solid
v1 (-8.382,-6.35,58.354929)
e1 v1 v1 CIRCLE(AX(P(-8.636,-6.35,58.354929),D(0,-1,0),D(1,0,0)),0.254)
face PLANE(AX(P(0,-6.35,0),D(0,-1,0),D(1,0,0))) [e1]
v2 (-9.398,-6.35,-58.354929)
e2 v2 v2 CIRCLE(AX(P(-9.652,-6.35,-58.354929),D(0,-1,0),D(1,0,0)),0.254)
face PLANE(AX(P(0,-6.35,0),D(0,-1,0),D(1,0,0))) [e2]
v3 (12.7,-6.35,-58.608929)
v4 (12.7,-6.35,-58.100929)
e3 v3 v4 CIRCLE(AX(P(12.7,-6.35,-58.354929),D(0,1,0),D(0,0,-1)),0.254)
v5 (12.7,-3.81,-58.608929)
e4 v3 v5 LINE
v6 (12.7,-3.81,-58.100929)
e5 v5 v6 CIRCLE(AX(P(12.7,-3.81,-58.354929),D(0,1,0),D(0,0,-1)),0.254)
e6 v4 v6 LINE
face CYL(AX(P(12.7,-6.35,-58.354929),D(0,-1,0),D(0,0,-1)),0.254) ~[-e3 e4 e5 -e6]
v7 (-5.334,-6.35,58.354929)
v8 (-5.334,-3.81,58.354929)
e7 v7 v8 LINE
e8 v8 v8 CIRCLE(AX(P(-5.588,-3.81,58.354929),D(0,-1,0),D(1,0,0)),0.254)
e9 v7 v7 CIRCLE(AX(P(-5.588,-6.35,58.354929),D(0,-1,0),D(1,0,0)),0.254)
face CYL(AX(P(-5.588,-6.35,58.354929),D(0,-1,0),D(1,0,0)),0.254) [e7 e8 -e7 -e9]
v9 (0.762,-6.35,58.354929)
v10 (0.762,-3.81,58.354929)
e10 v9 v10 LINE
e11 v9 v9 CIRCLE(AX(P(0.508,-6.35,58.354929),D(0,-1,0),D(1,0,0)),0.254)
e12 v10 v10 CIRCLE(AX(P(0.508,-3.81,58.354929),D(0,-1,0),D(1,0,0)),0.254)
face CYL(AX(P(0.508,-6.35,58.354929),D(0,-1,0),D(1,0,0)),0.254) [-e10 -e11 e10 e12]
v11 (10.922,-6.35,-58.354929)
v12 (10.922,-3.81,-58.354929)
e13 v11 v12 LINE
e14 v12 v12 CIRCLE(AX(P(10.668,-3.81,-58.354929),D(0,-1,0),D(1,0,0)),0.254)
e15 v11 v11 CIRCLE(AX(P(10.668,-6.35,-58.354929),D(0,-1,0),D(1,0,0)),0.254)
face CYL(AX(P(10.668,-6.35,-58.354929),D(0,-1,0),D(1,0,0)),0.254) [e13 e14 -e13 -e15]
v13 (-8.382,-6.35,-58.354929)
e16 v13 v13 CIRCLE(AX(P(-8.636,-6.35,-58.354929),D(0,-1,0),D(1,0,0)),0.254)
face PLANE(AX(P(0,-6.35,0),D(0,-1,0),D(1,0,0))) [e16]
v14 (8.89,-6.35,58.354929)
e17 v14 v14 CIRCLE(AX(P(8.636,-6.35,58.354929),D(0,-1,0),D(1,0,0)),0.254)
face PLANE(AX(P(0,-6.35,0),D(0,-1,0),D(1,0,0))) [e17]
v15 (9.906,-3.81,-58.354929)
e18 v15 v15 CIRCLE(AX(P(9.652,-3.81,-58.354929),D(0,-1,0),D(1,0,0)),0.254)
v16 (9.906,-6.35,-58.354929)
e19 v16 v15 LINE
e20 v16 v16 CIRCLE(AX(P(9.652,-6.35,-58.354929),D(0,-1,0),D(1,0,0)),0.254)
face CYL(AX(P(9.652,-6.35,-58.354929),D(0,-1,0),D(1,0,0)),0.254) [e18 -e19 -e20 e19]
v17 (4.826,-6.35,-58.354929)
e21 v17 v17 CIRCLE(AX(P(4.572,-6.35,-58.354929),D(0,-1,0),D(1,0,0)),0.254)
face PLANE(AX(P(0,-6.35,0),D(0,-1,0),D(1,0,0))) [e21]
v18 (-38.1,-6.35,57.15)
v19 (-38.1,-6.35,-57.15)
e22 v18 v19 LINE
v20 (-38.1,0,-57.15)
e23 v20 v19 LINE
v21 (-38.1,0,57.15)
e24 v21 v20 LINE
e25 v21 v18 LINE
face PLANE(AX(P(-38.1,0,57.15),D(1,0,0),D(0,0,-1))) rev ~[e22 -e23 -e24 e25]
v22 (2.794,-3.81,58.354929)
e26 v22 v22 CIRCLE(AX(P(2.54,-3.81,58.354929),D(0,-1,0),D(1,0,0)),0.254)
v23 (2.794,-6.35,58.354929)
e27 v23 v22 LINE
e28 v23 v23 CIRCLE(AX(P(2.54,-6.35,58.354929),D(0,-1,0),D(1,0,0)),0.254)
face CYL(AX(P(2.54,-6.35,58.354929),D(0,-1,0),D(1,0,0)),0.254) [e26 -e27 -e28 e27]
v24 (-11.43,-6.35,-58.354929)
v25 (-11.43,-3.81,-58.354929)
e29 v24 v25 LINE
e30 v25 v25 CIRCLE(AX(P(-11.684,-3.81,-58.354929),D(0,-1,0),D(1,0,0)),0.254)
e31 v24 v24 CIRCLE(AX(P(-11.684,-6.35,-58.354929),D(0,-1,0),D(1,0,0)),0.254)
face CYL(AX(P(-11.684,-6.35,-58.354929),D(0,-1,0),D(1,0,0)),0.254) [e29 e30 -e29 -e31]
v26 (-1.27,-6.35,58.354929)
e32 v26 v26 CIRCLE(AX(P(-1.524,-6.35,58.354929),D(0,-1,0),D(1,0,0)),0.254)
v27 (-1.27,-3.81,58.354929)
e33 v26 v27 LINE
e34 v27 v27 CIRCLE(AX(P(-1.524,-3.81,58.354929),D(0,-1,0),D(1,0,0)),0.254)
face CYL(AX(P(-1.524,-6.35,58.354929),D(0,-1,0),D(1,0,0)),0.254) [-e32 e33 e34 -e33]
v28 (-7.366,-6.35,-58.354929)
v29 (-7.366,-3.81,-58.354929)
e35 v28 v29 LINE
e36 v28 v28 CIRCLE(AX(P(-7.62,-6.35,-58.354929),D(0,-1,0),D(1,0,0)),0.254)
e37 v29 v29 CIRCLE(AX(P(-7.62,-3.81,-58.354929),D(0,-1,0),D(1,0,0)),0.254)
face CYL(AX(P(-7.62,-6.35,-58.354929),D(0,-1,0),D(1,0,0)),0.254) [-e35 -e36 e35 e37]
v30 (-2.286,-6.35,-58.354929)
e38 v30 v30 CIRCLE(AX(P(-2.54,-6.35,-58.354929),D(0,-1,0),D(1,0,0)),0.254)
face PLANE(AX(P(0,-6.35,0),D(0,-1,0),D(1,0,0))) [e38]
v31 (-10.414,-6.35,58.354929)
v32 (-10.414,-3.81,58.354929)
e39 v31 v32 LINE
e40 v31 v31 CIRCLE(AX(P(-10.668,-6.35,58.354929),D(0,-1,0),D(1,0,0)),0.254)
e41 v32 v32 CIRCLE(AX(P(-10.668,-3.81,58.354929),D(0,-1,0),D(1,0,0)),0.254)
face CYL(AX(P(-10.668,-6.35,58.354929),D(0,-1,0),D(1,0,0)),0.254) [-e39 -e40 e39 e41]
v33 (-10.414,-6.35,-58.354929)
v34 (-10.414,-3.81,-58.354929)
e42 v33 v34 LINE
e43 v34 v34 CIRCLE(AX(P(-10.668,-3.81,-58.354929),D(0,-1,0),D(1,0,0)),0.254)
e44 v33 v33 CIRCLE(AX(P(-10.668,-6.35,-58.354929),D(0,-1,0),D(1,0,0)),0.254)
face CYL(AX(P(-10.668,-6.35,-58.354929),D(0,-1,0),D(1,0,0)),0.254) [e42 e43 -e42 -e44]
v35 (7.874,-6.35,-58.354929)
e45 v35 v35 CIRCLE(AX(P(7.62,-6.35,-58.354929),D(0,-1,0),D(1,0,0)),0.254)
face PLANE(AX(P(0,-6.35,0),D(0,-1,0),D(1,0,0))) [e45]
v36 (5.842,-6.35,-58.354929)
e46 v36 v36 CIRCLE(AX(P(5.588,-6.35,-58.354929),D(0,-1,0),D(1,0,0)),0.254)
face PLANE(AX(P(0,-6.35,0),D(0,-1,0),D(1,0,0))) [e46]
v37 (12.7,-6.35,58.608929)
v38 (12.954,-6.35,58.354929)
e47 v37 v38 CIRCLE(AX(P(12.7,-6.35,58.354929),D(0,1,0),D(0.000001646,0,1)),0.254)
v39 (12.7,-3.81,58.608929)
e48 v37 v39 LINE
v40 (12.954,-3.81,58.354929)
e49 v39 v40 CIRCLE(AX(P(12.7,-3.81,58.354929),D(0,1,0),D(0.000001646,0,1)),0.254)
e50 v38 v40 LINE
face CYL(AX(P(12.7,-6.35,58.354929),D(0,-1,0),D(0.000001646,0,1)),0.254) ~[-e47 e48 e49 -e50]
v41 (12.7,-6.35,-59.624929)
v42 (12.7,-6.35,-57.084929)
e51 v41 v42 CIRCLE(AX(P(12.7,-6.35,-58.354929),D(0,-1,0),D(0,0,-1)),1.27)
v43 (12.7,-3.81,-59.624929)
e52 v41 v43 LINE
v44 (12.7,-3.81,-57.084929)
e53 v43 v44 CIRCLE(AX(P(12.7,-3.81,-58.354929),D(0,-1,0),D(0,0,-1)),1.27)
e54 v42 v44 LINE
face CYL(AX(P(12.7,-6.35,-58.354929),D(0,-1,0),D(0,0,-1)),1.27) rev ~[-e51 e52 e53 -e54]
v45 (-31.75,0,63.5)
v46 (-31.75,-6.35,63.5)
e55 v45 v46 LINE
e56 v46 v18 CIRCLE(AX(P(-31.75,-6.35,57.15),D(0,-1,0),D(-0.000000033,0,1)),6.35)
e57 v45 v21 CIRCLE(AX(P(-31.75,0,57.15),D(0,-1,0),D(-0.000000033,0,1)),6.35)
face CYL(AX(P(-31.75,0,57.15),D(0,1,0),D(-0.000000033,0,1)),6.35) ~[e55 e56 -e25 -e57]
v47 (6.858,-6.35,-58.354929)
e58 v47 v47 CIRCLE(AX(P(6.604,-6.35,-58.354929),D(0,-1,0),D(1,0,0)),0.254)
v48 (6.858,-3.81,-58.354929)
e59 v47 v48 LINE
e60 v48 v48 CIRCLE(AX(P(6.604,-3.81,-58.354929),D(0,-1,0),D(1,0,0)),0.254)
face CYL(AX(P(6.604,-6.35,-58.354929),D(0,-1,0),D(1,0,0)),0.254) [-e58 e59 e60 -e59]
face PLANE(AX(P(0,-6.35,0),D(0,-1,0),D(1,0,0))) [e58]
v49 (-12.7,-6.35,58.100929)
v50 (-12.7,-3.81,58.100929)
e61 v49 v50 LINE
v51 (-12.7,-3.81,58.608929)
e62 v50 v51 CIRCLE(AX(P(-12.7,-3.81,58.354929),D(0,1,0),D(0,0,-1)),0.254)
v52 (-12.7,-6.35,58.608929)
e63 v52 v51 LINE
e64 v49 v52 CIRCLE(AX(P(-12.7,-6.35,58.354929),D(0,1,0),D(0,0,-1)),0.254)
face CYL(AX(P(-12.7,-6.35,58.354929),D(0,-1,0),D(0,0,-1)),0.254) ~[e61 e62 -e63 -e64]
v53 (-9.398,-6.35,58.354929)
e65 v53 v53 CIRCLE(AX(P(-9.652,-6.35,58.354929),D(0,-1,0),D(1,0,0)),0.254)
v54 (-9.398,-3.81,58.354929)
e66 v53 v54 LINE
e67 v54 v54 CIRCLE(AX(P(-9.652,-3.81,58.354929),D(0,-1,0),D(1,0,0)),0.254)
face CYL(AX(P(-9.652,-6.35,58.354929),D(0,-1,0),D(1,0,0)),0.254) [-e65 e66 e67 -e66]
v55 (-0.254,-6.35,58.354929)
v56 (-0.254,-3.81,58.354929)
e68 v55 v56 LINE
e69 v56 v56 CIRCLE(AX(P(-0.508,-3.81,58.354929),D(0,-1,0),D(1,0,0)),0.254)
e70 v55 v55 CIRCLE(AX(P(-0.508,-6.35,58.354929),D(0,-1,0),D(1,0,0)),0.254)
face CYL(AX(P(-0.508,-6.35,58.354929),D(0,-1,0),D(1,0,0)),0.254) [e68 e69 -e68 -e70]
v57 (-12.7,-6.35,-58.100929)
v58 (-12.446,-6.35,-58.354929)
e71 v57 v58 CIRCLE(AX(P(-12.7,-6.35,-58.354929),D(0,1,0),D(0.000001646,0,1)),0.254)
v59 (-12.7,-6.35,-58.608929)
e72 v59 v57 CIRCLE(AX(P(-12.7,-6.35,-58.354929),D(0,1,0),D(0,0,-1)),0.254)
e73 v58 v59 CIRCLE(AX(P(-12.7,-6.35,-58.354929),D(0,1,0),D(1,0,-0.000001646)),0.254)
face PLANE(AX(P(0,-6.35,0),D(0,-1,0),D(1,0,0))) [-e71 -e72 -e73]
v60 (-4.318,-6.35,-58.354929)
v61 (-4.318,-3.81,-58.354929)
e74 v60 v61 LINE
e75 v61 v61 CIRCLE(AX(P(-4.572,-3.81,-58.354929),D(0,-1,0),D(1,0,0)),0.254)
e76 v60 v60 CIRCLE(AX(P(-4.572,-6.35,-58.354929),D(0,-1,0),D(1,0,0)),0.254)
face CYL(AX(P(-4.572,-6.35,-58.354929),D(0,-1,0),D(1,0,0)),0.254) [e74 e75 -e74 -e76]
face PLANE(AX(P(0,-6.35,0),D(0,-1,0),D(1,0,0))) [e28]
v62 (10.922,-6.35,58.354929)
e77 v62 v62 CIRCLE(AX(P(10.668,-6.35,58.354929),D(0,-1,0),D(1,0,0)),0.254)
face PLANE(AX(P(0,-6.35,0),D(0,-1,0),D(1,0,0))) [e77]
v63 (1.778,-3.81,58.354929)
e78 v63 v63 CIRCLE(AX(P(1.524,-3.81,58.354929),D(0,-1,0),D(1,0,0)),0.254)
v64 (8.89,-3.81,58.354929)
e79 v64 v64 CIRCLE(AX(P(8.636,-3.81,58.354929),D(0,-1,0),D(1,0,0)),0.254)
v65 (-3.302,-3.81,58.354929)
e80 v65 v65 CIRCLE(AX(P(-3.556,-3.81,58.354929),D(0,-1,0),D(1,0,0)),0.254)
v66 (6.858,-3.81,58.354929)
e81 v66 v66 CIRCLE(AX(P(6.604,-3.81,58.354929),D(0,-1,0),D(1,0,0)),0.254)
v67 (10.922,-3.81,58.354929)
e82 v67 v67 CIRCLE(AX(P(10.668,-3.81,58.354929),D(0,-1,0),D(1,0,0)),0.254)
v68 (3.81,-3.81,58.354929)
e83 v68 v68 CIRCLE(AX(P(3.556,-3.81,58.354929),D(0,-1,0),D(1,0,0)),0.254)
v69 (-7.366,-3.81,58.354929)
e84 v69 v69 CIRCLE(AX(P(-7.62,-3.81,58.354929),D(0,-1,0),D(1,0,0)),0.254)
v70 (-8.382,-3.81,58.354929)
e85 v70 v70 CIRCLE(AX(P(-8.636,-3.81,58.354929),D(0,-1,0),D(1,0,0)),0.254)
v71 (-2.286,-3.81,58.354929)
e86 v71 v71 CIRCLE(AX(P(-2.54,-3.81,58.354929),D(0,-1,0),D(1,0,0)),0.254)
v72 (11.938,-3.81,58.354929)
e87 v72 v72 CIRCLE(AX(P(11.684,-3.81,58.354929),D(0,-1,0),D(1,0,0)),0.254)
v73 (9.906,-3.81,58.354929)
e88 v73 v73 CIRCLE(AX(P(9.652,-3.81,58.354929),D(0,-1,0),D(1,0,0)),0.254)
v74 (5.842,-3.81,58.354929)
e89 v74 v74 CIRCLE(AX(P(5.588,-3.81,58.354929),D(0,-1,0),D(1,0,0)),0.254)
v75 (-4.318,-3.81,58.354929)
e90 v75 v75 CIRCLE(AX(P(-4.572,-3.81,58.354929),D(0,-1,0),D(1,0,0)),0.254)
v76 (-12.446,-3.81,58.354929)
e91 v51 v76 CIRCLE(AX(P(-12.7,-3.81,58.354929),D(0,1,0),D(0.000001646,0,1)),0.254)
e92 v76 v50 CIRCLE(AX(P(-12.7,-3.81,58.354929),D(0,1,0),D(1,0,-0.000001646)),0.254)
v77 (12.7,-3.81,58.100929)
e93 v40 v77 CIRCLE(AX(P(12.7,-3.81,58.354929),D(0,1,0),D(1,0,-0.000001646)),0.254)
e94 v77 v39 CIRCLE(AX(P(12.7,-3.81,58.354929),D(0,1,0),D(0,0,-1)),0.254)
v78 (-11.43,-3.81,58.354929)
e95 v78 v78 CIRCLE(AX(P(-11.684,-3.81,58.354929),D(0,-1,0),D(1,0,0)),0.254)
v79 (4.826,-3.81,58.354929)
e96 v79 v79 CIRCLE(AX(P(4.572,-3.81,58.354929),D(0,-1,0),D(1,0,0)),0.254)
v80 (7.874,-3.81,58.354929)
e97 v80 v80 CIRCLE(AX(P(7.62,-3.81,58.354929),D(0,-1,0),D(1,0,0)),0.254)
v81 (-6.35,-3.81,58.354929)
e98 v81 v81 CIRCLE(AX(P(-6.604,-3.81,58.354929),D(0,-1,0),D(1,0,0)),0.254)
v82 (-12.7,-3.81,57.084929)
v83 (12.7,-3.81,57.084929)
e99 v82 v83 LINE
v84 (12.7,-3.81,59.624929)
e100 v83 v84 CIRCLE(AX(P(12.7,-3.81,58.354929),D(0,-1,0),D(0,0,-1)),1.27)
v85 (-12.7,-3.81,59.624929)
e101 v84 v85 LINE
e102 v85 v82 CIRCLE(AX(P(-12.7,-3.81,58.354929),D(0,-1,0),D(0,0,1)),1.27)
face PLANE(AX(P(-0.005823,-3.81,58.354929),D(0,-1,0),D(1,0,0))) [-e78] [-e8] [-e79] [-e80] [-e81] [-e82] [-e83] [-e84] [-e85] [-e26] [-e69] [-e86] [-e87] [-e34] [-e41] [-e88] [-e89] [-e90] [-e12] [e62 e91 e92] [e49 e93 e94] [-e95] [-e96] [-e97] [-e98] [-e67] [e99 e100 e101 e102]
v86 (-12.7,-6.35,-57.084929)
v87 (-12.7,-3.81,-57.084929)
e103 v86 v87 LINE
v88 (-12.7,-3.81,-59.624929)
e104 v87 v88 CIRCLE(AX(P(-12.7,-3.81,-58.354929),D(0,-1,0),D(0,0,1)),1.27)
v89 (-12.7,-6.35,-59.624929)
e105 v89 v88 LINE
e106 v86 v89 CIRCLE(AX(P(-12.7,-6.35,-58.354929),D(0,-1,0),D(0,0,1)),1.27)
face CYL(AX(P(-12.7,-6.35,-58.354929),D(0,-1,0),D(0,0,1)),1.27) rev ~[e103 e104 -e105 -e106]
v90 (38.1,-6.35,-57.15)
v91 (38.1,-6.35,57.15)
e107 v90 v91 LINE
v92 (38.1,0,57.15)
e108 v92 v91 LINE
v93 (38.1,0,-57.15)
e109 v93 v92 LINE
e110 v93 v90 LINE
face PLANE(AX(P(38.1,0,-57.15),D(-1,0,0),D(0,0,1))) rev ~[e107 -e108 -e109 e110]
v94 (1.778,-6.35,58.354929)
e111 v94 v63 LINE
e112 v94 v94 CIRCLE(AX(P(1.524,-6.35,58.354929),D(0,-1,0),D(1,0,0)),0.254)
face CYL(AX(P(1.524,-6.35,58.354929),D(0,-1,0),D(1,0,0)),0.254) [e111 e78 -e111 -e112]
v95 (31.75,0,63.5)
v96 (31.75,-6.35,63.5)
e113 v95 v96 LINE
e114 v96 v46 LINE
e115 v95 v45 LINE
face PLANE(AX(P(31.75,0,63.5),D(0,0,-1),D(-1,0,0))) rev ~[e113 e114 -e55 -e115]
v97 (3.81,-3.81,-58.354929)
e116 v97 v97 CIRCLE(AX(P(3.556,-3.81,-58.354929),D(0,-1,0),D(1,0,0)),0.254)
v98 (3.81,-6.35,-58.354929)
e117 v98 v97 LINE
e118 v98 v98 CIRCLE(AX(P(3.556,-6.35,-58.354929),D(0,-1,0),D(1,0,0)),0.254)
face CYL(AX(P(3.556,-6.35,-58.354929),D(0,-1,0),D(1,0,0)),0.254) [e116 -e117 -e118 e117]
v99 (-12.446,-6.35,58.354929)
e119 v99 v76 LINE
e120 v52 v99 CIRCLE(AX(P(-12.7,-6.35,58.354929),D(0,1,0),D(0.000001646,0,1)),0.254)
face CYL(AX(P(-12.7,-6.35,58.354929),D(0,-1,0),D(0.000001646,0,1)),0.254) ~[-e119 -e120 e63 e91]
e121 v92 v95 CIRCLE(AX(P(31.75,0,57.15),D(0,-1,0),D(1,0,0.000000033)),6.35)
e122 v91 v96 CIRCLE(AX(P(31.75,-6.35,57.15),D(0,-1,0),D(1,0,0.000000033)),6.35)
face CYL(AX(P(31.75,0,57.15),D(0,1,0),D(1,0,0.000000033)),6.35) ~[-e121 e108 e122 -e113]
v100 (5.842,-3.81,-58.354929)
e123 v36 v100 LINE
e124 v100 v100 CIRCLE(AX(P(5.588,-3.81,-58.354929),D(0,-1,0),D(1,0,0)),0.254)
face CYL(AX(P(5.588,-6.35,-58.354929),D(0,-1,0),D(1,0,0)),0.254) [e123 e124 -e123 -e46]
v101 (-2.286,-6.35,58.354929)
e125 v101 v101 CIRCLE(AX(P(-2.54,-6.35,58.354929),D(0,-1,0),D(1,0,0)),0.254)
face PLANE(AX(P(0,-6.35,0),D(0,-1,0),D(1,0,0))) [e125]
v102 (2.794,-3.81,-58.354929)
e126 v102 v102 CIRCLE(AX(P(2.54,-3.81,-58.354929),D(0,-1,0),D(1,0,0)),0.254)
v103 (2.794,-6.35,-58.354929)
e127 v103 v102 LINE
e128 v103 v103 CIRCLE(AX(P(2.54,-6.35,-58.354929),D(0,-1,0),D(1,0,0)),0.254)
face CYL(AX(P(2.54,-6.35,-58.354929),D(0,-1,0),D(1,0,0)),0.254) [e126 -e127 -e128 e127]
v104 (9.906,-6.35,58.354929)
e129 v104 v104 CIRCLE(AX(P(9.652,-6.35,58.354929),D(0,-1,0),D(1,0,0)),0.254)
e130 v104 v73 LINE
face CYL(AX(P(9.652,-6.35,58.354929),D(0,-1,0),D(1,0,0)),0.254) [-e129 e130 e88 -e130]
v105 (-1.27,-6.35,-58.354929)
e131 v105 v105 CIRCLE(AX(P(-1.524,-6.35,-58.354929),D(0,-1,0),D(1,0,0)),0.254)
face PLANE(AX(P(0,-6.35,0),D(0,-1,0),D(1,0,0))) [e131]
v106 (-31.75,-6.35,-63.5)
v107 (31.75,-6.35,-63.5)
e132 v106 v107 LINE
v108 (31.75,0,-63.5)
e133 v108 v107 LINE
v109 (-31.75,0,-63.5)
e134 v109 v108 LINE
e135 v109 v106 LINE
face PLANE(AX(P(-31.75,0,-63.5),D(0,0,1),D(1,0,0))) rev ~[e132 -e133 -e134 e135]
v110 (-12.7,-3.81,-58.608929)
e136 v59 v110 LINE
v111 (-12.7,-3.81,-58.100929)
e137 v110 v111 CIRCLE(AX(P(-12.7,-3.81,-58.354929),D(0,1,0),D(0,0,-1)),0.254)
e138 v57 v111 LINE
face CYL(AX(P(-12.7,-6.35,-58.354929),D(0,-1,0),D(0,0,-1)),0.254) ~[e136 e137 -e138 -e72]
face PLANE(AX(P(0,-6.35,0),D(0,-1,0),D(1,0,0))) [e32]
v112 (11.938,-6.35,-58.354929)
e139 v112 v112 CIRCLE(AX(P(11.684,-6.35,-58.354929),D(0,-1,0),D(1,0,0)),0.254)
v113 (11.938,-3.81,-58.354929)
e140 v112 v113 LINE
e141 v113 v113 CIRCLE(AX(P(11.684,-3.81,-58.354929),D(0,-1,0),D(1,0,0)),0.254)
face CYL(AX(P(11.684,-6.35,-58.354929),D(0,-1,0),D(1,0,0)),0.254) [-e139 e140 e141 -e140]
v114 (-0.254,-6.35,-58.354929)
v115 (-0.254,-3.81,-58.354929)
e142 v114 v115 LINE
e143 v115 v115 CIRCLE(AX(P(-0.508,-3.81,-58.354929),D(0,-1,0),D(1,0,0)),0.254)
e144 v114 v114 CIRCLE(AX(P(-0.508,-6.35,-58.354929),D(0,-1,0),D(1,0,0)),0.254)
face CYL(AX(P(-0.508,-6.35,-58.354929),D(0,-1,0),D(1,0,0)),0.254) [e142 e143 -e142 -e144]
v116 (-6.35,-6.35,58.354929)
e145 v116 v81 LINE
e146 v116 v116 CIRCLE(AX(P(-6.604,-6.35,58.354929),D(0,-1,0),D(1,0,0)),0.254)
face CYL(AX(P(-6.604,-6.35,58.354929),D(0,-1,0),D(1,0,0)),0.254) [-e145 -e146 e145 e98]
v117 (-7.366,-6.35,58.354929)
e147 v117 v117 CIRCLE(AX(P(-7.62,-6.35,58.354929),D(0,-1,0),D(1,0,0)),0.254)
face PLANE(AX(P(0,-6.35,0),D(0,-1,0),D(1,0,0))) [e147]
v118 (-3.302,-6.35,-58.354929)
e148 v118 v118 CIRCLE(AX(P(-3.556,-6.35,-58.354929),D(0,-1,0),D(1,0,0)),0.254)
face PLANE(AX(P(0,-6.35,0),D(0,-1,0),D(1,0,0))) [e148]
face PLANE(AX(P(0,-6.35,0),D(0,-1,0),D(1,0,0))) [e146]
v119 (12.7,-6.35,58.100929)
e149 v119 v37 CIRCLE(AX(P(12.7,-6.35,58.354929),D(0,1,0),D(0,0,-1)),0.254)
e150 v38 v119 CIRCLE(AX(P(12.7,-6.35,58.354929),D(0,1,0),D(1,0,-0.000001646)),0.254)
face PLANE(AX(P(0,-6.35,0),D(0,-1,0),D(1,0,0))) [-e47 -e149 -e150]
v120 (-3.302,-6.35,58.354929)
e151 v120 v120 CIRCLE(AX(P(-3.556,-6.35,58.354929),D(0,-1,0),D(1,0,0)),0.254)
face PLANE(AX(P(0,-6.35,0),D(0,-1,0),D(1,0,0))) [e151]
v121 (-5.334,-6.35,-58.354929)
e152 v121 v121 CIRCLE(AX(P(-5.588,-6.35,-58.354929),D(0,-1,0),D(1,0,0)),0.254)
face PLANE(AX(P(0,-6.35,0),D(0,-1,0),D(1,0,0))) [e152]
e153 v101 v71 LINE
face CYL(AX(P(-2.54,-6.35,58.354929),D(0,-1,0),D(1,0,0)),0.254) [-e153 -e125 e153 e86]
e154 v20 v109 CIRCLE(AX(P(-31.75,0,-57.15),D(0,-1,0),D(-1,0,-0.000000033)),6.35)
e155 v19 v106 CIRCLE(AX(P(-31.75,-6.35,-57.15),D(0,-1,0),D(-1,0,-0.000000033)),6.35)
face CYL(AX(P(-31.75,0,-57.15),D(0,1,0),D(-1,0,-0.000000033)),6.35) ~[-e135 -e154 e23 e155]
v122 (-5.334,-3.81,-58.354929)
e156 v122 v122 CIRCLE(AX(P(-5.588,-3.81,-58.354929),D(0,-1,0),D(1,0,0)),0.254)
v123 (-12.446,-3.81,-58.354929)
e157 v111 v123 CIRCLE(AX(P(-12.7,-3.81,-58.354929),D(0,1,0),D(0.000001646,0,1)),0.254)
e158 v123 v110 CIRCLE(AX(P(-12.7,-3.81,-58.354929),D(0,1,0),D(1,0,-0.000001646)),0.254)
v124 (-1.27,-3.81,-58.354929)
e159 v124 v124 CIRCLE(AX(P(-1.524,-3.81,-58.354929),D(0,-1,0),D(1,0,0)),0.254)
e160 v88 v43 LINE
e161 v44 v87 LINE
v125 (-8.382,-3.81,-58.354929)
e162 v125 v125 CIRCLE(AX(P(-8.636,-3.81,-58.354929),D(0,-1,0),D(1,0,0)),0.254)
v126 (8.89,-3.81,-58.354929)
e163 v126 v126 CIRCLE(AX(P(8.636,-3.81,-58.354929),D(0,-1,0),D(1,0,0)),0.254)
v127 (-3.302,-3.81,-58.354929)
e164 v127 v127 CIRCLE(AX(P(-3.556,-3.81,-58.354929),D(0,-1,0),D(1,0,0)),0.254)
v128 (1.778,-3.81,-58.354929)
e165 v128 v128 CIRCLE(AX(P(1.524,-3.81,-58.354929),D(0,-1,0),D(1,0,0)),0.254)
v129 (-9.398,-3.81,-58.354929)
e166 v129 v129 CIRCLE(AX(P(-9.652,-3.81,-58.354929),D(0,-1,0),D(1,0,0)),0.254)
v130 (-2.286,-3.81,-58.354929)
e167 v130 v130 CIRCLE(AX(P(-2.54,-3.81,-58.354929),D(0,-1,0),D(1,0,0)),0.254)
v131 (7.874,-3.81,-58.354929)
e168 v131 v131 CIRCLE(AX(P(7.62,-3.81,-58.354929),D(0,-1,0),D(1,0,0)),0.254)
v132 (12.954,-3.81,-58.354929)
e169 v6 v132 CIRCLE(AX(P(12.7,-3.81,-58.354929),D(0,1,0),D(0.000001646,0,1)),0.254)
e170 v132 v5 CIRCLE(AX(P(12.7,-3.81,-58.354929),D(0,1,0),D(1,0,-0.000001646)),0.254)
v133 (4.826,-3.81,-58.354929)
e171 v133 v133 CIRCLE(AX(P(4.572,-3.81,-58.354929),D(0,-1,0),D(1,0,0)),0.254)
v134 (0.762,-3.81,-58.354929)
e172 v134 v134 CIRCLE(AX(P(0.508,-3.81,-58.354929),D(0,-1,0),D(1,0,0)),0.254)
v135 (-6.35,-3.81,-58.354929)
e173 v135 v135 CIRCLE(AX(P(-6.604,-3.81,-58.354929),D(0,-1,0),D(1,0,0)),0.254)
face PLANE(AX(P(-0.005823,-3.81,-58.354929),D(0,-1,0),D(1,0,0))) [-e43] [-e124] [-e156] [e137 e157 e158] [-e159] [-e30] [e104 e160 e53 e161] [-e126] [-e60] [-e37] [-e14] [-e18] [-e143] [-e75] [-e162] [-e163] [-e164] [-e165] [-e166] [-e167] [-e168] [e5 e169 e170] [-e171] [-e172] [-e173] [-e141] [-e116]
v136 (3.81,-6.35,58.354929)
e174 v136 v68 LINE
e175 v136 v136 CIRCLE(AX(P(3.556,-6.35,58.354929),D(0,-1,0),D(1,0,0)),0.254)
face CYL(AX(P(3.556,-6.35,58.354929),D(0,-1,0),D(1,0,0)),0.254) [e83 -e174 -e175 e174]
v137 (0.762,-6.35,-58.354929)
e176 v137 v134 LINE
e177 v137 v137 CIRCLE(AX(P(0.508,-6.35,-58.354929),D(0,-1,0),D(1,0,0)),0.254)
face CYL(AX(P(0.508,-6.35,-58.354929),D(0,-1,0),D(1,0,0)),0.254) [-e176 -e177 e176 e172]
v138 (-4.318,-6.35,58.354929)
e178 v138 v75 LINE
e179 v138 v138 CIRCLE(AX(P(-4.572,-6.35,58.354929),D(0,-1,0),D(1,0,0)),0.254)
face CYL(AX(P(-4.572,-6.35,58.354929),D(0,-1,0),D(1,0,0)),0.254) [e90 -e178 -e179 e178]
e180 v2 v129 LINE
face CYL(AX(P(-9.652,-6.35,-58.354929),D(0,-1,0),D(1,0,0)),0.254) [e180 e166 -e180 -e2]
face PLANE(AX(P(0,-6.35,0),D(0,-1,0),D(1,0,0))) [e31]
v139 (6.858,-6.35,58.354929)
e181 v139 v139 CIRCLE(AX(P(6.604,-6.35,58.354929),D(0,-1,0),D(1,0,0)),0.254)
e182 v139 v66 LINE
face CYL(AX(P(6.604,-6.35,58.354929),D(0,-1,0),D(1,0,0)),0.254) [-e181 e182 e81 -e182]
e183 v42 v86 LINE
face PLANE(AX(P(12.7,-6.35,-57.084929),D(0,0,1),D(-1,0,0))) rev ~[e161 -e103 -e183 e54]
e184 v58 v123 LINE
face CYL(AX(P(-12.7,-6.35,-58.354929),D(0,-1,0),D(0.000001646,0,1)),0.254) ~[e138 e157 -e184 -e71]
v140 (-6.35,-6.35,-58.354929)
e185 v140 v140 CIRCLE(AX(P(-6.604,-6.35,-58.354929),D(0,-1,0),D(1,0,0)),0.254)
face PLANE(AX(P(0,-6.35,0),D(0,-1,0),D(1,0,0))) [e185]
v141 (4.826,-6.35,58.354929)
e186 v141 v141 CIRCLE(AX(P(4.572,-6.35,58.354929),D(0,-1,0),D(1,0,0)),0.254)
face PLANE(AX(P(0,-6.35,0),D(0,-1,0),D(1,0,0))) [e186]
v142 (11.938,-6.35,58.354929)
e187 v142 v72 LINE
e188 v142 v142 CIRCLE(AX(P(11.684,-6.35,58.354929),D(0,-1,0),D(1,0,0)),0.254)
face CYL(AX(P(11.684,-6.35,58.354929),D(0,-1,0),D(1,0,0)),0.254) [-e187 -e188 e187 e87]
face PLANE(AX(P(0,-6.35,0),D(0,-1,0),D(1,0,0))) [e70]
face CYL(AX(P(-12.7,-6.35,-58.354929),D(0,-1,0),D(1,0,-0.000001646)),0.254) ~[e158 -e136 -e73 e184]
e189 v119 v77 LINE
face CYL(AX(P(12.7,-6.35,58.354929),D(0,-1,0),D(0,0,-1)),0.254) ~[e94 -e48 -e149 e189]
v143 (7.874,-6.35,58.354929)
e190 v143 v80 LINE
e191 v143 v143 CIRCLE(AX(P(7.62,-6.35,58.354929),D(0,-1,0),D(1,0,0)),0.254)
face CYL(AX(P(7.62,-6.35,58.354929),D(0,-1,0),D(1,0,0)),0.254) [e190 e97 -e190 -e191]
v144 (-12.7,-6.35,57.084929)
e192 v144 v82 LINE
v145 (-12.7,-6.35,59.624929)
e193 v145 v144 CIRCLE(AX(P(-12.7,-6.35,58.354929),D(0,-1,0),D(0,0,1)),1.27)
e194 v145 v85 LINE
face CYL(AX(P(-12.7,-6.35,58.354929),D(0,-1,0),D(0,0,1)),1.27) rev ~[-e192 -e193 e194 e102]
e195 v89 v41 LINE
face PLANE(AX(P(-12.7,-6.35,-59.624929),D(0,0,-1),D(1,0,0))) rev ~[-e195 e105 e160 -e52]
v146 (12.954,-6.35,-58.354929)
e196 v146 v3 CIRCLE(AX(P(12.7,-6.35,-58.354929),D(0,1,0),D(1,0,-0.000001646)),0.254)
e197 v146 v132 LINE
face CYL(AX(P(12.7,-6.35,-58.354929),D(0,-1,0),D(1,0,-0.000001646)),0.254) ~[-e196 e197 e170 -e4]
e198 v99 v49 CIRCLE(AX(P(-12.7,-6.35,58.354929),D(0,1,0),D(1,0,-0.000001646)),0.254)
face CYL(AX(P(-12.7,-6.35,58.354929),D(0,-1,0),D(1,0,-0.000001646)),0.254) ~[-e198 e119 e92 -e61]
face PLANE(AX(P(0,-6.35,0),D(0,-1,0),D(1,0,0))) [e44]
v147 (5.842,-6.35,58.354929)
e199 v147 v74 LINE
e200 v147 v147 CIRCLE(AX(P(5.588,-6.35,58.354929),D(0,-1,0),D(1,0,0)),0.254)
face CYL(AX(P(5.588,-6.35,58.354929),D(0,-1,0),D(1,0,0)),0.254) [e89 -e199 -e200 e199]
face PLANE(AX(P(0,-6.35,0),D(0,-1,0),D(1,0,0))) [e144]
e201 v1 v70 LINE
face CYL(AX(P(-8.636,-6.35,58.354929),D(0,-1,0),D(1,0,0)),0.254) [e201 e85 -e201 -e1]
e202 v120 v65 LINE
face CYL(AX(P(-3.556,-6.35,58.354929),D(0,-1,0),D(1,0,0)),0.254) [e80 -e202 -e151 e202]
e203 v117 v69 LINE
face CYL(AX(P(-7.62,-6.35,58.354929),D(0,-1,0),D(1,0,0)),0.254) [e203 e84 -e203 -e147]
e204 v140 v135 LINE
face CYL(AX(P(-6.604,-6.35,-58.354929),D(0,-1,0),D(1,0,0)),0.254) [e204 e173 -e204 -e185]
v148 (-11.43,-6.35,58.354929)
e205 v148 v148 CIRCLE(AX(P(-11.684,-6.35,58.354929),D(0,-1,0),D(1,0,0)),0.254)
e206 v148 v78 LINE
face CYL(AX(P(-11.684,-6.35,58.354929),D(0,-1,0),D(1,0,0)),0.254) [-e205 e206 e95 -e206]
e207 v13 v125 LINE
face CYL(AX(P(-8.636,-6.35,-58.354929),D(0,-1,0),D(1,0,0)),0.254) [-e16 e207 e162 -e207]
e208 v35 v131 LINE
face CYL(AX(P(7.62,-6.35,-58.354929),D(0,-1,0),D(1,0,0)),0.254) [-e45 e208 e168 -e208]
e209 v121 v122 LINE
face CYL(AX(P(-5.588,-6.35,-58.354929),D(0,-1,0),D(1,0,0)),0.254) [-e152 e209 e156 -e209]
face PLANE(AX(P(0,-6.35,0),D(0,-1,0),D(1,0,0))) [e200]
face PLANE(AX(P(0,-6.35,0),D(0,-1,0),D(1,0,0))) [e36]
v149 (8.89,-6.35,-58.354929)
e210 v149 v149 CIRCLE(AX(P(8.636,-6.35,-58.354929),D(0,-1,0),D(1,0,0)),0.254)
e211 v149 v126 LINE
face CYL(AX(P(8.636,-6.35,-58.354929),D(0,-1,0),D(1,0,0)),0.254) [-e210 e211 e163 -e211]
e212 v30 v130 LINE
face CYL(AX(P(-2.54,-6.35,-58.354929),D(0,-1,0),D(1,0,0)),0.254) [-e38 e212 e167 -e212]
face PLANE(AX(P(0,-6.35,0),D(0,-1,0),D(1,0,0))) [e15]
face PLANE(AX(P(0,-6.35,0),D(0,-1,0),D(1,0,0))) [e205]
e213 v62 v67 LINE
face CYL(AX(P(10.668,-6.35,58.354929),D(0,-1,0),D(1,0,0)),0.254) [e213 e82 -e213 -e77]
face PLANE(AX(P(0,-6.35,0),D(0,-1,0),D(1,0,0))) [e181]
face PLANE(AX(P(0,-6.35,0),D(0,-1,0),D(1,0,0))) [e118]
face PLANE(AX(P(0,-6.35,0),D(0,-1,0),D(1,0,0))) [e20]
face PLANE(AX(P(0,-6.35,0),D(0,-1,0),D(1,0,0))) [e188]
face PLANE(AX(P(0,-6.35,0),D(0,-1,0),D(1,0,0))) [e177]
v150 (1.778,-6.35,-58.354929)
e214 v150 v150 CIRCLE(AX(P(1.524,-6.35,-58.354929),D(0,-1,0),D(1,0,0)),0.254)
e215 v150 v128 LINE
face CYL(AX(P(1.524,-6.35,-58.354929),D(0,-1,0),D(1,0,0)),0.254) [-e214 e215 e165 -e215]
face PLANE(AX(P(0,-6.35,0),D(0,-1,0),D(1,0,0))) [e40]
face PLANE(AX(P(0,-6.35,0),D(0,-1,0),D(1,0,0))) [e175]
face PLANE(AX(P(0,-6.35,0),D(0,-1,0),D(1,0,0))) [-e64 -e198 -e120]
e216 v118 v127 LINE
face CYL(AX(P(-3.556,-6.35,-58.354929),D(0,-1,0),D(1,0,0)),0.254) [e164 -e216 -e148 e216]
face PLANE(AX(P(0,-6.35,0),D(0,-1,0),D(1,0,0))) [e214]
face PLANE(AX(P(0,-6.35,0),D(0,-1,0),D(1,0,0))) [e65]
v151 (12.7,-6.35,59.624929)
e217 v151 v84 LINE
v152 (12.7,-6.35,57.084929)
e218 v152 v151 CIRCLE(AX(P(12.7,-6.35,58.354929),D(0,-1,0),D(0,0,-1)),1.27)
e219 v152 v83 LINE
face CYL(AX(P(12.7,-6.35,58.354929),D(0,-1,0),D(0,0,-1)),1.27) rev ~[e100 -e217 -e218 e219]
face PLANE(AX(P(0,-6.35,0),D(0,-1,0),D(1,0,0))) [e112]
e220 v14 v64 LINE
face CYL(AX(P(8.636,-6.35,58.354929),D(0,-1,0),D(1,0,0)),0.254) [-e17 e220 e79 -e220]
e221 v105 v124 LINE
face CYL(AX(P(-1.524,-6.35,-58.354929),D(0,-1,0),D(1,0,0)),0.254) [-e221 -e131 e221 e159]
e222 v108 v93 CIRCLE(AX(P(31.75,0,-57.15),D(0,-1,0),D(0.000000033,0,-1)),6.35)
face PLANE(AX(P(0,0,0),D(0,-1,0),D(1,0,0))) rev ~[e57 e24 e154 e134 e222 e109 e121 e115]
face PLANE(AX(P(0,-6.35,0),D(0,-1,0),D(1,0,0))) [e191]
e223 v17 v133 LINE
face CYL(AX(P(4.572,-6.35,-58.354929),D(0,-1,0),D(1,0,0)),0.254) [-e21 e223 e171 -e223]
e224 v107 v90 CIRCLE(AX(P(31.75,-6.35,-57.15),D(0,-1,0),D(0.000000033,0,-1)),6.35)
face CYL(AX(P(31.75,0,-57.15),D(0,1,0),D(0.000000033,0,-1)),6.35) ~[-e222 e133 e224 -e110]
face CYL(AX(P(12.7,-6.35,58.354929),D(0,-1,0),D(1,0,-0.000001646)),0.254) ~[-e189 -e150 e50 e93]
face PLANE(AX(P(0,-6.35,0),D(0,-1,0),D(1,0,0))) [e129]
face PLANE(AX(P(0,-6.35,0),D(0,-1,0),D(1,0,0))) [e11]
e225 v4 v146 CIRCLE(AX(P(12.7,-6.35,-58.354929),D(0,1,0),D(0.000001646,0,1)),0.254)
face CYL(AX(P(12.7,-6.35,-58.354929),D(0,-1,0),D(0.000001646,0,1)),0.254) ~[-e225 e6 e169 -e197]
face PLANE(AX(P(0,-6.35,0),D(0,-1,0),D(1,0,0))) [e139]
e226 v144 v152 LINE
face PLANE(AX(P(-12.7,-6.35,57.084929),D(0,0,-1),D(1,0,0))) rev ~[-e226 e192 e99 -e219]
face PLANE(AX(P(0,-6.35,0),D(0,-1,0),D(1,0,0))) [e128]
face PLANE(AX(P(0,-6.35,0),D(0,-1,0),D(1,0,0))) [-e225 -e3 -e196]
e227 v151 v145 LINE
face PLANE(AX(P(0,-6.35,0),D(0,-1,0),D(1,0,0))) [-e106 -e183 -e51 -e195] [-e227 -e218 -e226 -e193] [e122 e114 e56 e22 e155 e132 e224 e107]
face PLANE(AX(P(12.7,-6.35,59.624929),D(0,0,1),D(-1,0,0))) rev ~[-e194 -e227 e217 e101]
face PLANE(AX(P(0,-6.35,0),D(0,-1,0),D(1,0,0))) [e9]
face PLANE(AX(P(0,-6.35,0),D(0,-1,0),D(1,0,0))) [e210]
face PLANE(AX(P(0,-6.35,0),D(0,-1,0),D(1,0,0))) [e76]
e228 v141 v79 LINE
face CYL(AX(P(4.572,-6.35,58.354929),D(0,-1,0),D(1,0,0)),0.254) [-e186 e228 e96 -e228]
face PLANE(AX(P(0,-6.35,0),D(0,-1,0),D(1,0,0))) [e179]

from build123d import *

# Parameters (mm, degrees)
F1_DEPTH = 6.35
F2_R     = 0.254
F3_DEPTH = 2.54


with BuildPart() as f1:
    # F0 (on Front) → F1 (new body)
    with BuildSketch(Plane.XZ):
        with BuildLine():
            Line((31.75, 63.5), (0, 63.5))
            Line((0, 63.5), (-31.75, 63.5))
            ThreePointArc((-31.75, 63.5), (-36.240128, 61.640128), (-38.1, 57.15))
            Line((-38.1, 57.15), (-38.1, 0))
            Line((-38.1, 0), (-38.1, -57.15))
            ThreePointArc((-38.1, -57.15), (-36.240128, -61.640128), (-31.75, -63.5))
            Line((-31.75, -63.5), (0, -63.5))
            Line((0, -63.5), (31.75, -63.5))
            ThreePointArc((31.75, -63.5), (36.240128, -61.640128), (38.1, -57.15))
            Line((38.1, -57.15), (38.1, 0))
            Line((38.1, 0), (38.1, 57.15))
            ThreePointArc((38.1, 57.15), (36.240128, 61.640128), (31.75, 63.5))
        make_face()
    extrude(amount=F1_DEPTH)

    # F2 (on face) → F3 (cut)
    with BuildSketch(Plane.XZ.offset(6.35)):
        with BuildLine():
            Line((-12.7, 57.084929), (12.7, 57.084929))
            Line((12.7, 57.084929), (12.7, 58.100929))
            ThreePointArc((12.7, 58.100929), (12.446, 58.354929), (12.7, 58.608929))
            Line((12.7, 58.608929), (12.7, 59.624929))
            Line((12.7, 59.624929), (-12.7, 59.624929))
            Line((-12.7, 59.624929), (-12.7, 58.608929))
            ThreePointArc((-12.7, 58.608929), (-12.520395, 58.534534), (-12.446, 58.354929))
            ThreePointArc((-12.446, 58.354929), (-12.520395, 58.175324), (-12.7, 58.100929))
            Line((-12.7, 58.100929), (-12.7, 57.084929))
        make_face()
        with Locations((-11.684, 58.354929)):
            Circle(F2_R, mode=Mode.SUBTRACT)
        with Locations((-10.668, 58.354929)):
            Circle(F2_R, mode=Mode.SUBTRACT)
        with Locations((-9.652, 58.354929)):
            Circle(F2_R, mode=Mode.SUBTRACT)
        with Locations((-8.636, 58.354929)):
            Circle(F2_R, mode=Mode.SUBTRACT)
        with Locations((-7.62, 58.354929)):
            Circle(F2_R, mode=Mode.SUBTRACT)
        with Locations((-6.604, 58.354929)):
            Circle(F2_R, mode=Mode.SUBTRACT)
        with Locations((-5.588, 58.354929)):
            Circle(F2_R, mode=Mode.SUBTRACT)
        with Locations((-4.572, 58.354929)):
            Circle(F2_R, mode=Mode.SUBTRACT)
        with Locations((-3.556, 58.354929)):
            Circle(F2_R, mode=Mode.SUBTRACT)
        with Locations((-2.54, 58.354929)):
            Circle(F2_R, mode=Mode.SUBTRACT)
        with Locations((-1.524, 58.354929)):
            Circle(F2_R, mode=Mode.SUBTRACT)
        with Locations((-0.508, 58.354929)):
            Circle(F2_R, mode=Mode.SUBTRACT)
        with Locations((0.508, 58.354929)):
            Circle(F2_R, mode=Mode.SUBTRACT)
        with Locations((1.524, 58.354929)):
            Circle(F2_R, mode=Mode.SUBTRACT)
        with Locations((2.54, 58.354929)):
            Circle(F2_R, mode=Mode.SUBTRACT)
        with Locations((3.556, 58.354929)):
            Circle(F2_R, mode=Mode.SUBTRACT)
        with Locations((4.572, 58.354929)):
            Circle(F2_R, mode=Mode.SUBTRACT)
        with Locations((5.588, 58.354929)):
            Circle(F2_R, mode=Mode.SUBTRACT)
        with Locations((6.604, 58.354929)):
            Circle(F2_R, mode=Mode.SUBTRACT)
        with Locations((7.62, 58.354929)):
            Circle(F2_R, mode=Mode.SUBTRACT)
        with Locations((8.636, 58.354929)):
            Circle(F2_R, mode=Mode.SUBTRACT)
        with Locations((9.652, 58.354929)):
            Circle(F2_R, mode=Mode.SUBTRACT)
        with Locations((10.668, 58.354929)):
            Circle(F2_R, mode=Mode.SUBTRACT)
        with Locations((11.684, 58.354929)):
            Circle(F2_R, mode=Mode.SUBTRACT)
        with BuildLine():
            ThreePointArc((-12.7, 59.624929), (-13.97, 58.354929), (-12.7, 57.084929))
            Line((-12.7, 57.084929), (-12.7, 58.100929))
            ThreePointArc((-12.7, 58.100929), (-12.954, 58.354929), (-12.7, 58.608929))
            Line((-12.7, 58.608929), (-12.7, 59.624929))
        make_face()
        with BuildLine():
            Line((12.7, 58.100929), (12.7, 57.084929))
            ThreePointArc((12.7, 57.084929), (13.97, 58.354929), (12.7, 59.624929))
            Line((12.7, 59.624929), (12.7, 58.608929))
            ThreePointArc((12.7, 58.608929), (12.879605, 58.534534), (12.954, 58.354929))
            ThreePointArc((12.954, 58.354929), (12.879605, 58.175324), (12.7, 58.100929))
        make_face()
        with BuildLine():
            ThreePointArc((-12.7, -58.100929), (-12.520395, -58.175324), (-12.446, -58.354929))
            ThreePointArc((-12.446, -58.354929), (-12.520395, -58.534534), (-12.7, -58.608929))
            Line((-12.7, -58.608929), (-12.7, -59.624929))
            Line((-12.7, -59.624929), (12.7, -59.624929))
            Line((12.7, -59.624929), (12.7, -58.608929))
            ThreePointArc((12.7, -58.608929), (12.446, -58.354929), (12.7, -58.100929))
            Line((12.7, -58.100929), (12.7, -57.084929))
            Line((12.7, -57.084929), (-12.7, -57.084929))
            Line((-12.7, -57.084929), (-12.7, -58.100929))
        make_face()
        with Locations((-11.684, -58.354929)):
            Circle(F2_R, mode=Mode.SUBTRACT)
        with Locations((-10.668, -58.354929)):
            Circle(F2_R, mode=Mode.SUBTRACT)
        with Locations((-9.652, -58.354929)):
            Circle(F2_R, mode=Mode.SUBTRACT)
        with Locations((-8.636, -58.354929)):
            Circle(F2_R, mode=Mode.SUBTRACT)
        with Locations((-7.62, -58.354929)):
            Circle(F2_R, mode=Mode.SUBTRACT)
        with Locations((-6.604, -58.354929)):
            Circle(F2_R, mode=Mode.SUBTRACT)
        with Locations((-5.588, -58.354929)):
            Circle(F2_R, mode=Mode.SUBTRACT)
        with Locations((-4.572, -58.354929)):
            Circle(F2_R, mode=Mode.SUBTRACT)
        with Locations((-3.556, -58.354929)):
            Circle(F2_R, mode=Mode.SUBTRACT)
        with Locations((-2.54, -58.354929)):
            Circle(F2_R, mode=Mode.SUBTRACT)
        with Locations((-1.524, -58.354929)):
            Circle(F2_R, mode=Mode.SUBTRACT)
        with Locations((-0.508, -58.354929)):
            Circle(F2_R, mode=Mode.SUBTRACT)
        with Locations((0.508, -58.354929)):
            Circle(F2_R, mode=Mode.SUBTRACT)
        with Locations((1.524, -58.354929)):
            Circle(F2_R, mode=Mode.SUBTRACT)
        with Locations((2.54, -58.354929)):
            Circle(F2_R, mode=Mode.SUBTRACT)
        with Locations((3.556, -58.354929)):
            Circle(F2_R, mode=Mode.SUBTRACT)
        with Locations((4.572, -58.354929)):
            Circle(F2_R, mode=Mode.SUBTRACT)
        with Locations((5.588, -58.354929)):
            Circle(F2_R, mode=Mode.SUBTRACT)
        with Locations((6.604, -58.354929)):
            Circle(F2_R, mode=Mode.SUBTRACT)
        with Locations((7.62, -58.354929)):
            Circle(F2_R, mode=Mode.SUBTRACT)
        with Locations((8.636, -58.354929)):
            Circle(F2_R, mode=Mode.SUBTRACT)
        with Locations((9.652, -58.354929)):
            Circle(F2_R, mode=Mode.SUBTRACT)
        with Locations((10.668, -58.354929)):
            Circle(F2_R, mode=Mode.SUBTRACT)
        with Locations((11.684, -58.354929)):
            Circle(F2_R, mode=Mode.SUBTRACT)
        with BuildLine():
            ThreePointArc((12.7, -59.624929), (13.97, -58.354929), (12.7, -57.084929))
            Line((12.7, -57.084929), (12.7, -58.100929))
            ThreePointArc((12.7, -58.100929), (12.879605, -58.175324), (12.954, -58.354929))
            ThreePointArc((12.954, -58.354929), (12.879605, -58.534534), (12.7, -58.608929))
            Line((12.7, -58.608929), (12.7, -59.624929))
        make_face()
        with BuildLine():
            ThreePointArc((-12.7, -58.608929), (-12.954, -58.354929), (-12.7, -58.100929))
            Line((-12.7, -58.100929), (-12.7, -57.084929))
            ThreePointArc((-12.7, -57.084929), (-13.97, -58.354929), (-12.7, -59.624929))
            Line((-12.7, -59.624929), (-12.7, -58.608929))
        make_face()
    extrude(amount=-F3_DEPTH, mode=Mode.SUBTRACT)


solid = f1.part
